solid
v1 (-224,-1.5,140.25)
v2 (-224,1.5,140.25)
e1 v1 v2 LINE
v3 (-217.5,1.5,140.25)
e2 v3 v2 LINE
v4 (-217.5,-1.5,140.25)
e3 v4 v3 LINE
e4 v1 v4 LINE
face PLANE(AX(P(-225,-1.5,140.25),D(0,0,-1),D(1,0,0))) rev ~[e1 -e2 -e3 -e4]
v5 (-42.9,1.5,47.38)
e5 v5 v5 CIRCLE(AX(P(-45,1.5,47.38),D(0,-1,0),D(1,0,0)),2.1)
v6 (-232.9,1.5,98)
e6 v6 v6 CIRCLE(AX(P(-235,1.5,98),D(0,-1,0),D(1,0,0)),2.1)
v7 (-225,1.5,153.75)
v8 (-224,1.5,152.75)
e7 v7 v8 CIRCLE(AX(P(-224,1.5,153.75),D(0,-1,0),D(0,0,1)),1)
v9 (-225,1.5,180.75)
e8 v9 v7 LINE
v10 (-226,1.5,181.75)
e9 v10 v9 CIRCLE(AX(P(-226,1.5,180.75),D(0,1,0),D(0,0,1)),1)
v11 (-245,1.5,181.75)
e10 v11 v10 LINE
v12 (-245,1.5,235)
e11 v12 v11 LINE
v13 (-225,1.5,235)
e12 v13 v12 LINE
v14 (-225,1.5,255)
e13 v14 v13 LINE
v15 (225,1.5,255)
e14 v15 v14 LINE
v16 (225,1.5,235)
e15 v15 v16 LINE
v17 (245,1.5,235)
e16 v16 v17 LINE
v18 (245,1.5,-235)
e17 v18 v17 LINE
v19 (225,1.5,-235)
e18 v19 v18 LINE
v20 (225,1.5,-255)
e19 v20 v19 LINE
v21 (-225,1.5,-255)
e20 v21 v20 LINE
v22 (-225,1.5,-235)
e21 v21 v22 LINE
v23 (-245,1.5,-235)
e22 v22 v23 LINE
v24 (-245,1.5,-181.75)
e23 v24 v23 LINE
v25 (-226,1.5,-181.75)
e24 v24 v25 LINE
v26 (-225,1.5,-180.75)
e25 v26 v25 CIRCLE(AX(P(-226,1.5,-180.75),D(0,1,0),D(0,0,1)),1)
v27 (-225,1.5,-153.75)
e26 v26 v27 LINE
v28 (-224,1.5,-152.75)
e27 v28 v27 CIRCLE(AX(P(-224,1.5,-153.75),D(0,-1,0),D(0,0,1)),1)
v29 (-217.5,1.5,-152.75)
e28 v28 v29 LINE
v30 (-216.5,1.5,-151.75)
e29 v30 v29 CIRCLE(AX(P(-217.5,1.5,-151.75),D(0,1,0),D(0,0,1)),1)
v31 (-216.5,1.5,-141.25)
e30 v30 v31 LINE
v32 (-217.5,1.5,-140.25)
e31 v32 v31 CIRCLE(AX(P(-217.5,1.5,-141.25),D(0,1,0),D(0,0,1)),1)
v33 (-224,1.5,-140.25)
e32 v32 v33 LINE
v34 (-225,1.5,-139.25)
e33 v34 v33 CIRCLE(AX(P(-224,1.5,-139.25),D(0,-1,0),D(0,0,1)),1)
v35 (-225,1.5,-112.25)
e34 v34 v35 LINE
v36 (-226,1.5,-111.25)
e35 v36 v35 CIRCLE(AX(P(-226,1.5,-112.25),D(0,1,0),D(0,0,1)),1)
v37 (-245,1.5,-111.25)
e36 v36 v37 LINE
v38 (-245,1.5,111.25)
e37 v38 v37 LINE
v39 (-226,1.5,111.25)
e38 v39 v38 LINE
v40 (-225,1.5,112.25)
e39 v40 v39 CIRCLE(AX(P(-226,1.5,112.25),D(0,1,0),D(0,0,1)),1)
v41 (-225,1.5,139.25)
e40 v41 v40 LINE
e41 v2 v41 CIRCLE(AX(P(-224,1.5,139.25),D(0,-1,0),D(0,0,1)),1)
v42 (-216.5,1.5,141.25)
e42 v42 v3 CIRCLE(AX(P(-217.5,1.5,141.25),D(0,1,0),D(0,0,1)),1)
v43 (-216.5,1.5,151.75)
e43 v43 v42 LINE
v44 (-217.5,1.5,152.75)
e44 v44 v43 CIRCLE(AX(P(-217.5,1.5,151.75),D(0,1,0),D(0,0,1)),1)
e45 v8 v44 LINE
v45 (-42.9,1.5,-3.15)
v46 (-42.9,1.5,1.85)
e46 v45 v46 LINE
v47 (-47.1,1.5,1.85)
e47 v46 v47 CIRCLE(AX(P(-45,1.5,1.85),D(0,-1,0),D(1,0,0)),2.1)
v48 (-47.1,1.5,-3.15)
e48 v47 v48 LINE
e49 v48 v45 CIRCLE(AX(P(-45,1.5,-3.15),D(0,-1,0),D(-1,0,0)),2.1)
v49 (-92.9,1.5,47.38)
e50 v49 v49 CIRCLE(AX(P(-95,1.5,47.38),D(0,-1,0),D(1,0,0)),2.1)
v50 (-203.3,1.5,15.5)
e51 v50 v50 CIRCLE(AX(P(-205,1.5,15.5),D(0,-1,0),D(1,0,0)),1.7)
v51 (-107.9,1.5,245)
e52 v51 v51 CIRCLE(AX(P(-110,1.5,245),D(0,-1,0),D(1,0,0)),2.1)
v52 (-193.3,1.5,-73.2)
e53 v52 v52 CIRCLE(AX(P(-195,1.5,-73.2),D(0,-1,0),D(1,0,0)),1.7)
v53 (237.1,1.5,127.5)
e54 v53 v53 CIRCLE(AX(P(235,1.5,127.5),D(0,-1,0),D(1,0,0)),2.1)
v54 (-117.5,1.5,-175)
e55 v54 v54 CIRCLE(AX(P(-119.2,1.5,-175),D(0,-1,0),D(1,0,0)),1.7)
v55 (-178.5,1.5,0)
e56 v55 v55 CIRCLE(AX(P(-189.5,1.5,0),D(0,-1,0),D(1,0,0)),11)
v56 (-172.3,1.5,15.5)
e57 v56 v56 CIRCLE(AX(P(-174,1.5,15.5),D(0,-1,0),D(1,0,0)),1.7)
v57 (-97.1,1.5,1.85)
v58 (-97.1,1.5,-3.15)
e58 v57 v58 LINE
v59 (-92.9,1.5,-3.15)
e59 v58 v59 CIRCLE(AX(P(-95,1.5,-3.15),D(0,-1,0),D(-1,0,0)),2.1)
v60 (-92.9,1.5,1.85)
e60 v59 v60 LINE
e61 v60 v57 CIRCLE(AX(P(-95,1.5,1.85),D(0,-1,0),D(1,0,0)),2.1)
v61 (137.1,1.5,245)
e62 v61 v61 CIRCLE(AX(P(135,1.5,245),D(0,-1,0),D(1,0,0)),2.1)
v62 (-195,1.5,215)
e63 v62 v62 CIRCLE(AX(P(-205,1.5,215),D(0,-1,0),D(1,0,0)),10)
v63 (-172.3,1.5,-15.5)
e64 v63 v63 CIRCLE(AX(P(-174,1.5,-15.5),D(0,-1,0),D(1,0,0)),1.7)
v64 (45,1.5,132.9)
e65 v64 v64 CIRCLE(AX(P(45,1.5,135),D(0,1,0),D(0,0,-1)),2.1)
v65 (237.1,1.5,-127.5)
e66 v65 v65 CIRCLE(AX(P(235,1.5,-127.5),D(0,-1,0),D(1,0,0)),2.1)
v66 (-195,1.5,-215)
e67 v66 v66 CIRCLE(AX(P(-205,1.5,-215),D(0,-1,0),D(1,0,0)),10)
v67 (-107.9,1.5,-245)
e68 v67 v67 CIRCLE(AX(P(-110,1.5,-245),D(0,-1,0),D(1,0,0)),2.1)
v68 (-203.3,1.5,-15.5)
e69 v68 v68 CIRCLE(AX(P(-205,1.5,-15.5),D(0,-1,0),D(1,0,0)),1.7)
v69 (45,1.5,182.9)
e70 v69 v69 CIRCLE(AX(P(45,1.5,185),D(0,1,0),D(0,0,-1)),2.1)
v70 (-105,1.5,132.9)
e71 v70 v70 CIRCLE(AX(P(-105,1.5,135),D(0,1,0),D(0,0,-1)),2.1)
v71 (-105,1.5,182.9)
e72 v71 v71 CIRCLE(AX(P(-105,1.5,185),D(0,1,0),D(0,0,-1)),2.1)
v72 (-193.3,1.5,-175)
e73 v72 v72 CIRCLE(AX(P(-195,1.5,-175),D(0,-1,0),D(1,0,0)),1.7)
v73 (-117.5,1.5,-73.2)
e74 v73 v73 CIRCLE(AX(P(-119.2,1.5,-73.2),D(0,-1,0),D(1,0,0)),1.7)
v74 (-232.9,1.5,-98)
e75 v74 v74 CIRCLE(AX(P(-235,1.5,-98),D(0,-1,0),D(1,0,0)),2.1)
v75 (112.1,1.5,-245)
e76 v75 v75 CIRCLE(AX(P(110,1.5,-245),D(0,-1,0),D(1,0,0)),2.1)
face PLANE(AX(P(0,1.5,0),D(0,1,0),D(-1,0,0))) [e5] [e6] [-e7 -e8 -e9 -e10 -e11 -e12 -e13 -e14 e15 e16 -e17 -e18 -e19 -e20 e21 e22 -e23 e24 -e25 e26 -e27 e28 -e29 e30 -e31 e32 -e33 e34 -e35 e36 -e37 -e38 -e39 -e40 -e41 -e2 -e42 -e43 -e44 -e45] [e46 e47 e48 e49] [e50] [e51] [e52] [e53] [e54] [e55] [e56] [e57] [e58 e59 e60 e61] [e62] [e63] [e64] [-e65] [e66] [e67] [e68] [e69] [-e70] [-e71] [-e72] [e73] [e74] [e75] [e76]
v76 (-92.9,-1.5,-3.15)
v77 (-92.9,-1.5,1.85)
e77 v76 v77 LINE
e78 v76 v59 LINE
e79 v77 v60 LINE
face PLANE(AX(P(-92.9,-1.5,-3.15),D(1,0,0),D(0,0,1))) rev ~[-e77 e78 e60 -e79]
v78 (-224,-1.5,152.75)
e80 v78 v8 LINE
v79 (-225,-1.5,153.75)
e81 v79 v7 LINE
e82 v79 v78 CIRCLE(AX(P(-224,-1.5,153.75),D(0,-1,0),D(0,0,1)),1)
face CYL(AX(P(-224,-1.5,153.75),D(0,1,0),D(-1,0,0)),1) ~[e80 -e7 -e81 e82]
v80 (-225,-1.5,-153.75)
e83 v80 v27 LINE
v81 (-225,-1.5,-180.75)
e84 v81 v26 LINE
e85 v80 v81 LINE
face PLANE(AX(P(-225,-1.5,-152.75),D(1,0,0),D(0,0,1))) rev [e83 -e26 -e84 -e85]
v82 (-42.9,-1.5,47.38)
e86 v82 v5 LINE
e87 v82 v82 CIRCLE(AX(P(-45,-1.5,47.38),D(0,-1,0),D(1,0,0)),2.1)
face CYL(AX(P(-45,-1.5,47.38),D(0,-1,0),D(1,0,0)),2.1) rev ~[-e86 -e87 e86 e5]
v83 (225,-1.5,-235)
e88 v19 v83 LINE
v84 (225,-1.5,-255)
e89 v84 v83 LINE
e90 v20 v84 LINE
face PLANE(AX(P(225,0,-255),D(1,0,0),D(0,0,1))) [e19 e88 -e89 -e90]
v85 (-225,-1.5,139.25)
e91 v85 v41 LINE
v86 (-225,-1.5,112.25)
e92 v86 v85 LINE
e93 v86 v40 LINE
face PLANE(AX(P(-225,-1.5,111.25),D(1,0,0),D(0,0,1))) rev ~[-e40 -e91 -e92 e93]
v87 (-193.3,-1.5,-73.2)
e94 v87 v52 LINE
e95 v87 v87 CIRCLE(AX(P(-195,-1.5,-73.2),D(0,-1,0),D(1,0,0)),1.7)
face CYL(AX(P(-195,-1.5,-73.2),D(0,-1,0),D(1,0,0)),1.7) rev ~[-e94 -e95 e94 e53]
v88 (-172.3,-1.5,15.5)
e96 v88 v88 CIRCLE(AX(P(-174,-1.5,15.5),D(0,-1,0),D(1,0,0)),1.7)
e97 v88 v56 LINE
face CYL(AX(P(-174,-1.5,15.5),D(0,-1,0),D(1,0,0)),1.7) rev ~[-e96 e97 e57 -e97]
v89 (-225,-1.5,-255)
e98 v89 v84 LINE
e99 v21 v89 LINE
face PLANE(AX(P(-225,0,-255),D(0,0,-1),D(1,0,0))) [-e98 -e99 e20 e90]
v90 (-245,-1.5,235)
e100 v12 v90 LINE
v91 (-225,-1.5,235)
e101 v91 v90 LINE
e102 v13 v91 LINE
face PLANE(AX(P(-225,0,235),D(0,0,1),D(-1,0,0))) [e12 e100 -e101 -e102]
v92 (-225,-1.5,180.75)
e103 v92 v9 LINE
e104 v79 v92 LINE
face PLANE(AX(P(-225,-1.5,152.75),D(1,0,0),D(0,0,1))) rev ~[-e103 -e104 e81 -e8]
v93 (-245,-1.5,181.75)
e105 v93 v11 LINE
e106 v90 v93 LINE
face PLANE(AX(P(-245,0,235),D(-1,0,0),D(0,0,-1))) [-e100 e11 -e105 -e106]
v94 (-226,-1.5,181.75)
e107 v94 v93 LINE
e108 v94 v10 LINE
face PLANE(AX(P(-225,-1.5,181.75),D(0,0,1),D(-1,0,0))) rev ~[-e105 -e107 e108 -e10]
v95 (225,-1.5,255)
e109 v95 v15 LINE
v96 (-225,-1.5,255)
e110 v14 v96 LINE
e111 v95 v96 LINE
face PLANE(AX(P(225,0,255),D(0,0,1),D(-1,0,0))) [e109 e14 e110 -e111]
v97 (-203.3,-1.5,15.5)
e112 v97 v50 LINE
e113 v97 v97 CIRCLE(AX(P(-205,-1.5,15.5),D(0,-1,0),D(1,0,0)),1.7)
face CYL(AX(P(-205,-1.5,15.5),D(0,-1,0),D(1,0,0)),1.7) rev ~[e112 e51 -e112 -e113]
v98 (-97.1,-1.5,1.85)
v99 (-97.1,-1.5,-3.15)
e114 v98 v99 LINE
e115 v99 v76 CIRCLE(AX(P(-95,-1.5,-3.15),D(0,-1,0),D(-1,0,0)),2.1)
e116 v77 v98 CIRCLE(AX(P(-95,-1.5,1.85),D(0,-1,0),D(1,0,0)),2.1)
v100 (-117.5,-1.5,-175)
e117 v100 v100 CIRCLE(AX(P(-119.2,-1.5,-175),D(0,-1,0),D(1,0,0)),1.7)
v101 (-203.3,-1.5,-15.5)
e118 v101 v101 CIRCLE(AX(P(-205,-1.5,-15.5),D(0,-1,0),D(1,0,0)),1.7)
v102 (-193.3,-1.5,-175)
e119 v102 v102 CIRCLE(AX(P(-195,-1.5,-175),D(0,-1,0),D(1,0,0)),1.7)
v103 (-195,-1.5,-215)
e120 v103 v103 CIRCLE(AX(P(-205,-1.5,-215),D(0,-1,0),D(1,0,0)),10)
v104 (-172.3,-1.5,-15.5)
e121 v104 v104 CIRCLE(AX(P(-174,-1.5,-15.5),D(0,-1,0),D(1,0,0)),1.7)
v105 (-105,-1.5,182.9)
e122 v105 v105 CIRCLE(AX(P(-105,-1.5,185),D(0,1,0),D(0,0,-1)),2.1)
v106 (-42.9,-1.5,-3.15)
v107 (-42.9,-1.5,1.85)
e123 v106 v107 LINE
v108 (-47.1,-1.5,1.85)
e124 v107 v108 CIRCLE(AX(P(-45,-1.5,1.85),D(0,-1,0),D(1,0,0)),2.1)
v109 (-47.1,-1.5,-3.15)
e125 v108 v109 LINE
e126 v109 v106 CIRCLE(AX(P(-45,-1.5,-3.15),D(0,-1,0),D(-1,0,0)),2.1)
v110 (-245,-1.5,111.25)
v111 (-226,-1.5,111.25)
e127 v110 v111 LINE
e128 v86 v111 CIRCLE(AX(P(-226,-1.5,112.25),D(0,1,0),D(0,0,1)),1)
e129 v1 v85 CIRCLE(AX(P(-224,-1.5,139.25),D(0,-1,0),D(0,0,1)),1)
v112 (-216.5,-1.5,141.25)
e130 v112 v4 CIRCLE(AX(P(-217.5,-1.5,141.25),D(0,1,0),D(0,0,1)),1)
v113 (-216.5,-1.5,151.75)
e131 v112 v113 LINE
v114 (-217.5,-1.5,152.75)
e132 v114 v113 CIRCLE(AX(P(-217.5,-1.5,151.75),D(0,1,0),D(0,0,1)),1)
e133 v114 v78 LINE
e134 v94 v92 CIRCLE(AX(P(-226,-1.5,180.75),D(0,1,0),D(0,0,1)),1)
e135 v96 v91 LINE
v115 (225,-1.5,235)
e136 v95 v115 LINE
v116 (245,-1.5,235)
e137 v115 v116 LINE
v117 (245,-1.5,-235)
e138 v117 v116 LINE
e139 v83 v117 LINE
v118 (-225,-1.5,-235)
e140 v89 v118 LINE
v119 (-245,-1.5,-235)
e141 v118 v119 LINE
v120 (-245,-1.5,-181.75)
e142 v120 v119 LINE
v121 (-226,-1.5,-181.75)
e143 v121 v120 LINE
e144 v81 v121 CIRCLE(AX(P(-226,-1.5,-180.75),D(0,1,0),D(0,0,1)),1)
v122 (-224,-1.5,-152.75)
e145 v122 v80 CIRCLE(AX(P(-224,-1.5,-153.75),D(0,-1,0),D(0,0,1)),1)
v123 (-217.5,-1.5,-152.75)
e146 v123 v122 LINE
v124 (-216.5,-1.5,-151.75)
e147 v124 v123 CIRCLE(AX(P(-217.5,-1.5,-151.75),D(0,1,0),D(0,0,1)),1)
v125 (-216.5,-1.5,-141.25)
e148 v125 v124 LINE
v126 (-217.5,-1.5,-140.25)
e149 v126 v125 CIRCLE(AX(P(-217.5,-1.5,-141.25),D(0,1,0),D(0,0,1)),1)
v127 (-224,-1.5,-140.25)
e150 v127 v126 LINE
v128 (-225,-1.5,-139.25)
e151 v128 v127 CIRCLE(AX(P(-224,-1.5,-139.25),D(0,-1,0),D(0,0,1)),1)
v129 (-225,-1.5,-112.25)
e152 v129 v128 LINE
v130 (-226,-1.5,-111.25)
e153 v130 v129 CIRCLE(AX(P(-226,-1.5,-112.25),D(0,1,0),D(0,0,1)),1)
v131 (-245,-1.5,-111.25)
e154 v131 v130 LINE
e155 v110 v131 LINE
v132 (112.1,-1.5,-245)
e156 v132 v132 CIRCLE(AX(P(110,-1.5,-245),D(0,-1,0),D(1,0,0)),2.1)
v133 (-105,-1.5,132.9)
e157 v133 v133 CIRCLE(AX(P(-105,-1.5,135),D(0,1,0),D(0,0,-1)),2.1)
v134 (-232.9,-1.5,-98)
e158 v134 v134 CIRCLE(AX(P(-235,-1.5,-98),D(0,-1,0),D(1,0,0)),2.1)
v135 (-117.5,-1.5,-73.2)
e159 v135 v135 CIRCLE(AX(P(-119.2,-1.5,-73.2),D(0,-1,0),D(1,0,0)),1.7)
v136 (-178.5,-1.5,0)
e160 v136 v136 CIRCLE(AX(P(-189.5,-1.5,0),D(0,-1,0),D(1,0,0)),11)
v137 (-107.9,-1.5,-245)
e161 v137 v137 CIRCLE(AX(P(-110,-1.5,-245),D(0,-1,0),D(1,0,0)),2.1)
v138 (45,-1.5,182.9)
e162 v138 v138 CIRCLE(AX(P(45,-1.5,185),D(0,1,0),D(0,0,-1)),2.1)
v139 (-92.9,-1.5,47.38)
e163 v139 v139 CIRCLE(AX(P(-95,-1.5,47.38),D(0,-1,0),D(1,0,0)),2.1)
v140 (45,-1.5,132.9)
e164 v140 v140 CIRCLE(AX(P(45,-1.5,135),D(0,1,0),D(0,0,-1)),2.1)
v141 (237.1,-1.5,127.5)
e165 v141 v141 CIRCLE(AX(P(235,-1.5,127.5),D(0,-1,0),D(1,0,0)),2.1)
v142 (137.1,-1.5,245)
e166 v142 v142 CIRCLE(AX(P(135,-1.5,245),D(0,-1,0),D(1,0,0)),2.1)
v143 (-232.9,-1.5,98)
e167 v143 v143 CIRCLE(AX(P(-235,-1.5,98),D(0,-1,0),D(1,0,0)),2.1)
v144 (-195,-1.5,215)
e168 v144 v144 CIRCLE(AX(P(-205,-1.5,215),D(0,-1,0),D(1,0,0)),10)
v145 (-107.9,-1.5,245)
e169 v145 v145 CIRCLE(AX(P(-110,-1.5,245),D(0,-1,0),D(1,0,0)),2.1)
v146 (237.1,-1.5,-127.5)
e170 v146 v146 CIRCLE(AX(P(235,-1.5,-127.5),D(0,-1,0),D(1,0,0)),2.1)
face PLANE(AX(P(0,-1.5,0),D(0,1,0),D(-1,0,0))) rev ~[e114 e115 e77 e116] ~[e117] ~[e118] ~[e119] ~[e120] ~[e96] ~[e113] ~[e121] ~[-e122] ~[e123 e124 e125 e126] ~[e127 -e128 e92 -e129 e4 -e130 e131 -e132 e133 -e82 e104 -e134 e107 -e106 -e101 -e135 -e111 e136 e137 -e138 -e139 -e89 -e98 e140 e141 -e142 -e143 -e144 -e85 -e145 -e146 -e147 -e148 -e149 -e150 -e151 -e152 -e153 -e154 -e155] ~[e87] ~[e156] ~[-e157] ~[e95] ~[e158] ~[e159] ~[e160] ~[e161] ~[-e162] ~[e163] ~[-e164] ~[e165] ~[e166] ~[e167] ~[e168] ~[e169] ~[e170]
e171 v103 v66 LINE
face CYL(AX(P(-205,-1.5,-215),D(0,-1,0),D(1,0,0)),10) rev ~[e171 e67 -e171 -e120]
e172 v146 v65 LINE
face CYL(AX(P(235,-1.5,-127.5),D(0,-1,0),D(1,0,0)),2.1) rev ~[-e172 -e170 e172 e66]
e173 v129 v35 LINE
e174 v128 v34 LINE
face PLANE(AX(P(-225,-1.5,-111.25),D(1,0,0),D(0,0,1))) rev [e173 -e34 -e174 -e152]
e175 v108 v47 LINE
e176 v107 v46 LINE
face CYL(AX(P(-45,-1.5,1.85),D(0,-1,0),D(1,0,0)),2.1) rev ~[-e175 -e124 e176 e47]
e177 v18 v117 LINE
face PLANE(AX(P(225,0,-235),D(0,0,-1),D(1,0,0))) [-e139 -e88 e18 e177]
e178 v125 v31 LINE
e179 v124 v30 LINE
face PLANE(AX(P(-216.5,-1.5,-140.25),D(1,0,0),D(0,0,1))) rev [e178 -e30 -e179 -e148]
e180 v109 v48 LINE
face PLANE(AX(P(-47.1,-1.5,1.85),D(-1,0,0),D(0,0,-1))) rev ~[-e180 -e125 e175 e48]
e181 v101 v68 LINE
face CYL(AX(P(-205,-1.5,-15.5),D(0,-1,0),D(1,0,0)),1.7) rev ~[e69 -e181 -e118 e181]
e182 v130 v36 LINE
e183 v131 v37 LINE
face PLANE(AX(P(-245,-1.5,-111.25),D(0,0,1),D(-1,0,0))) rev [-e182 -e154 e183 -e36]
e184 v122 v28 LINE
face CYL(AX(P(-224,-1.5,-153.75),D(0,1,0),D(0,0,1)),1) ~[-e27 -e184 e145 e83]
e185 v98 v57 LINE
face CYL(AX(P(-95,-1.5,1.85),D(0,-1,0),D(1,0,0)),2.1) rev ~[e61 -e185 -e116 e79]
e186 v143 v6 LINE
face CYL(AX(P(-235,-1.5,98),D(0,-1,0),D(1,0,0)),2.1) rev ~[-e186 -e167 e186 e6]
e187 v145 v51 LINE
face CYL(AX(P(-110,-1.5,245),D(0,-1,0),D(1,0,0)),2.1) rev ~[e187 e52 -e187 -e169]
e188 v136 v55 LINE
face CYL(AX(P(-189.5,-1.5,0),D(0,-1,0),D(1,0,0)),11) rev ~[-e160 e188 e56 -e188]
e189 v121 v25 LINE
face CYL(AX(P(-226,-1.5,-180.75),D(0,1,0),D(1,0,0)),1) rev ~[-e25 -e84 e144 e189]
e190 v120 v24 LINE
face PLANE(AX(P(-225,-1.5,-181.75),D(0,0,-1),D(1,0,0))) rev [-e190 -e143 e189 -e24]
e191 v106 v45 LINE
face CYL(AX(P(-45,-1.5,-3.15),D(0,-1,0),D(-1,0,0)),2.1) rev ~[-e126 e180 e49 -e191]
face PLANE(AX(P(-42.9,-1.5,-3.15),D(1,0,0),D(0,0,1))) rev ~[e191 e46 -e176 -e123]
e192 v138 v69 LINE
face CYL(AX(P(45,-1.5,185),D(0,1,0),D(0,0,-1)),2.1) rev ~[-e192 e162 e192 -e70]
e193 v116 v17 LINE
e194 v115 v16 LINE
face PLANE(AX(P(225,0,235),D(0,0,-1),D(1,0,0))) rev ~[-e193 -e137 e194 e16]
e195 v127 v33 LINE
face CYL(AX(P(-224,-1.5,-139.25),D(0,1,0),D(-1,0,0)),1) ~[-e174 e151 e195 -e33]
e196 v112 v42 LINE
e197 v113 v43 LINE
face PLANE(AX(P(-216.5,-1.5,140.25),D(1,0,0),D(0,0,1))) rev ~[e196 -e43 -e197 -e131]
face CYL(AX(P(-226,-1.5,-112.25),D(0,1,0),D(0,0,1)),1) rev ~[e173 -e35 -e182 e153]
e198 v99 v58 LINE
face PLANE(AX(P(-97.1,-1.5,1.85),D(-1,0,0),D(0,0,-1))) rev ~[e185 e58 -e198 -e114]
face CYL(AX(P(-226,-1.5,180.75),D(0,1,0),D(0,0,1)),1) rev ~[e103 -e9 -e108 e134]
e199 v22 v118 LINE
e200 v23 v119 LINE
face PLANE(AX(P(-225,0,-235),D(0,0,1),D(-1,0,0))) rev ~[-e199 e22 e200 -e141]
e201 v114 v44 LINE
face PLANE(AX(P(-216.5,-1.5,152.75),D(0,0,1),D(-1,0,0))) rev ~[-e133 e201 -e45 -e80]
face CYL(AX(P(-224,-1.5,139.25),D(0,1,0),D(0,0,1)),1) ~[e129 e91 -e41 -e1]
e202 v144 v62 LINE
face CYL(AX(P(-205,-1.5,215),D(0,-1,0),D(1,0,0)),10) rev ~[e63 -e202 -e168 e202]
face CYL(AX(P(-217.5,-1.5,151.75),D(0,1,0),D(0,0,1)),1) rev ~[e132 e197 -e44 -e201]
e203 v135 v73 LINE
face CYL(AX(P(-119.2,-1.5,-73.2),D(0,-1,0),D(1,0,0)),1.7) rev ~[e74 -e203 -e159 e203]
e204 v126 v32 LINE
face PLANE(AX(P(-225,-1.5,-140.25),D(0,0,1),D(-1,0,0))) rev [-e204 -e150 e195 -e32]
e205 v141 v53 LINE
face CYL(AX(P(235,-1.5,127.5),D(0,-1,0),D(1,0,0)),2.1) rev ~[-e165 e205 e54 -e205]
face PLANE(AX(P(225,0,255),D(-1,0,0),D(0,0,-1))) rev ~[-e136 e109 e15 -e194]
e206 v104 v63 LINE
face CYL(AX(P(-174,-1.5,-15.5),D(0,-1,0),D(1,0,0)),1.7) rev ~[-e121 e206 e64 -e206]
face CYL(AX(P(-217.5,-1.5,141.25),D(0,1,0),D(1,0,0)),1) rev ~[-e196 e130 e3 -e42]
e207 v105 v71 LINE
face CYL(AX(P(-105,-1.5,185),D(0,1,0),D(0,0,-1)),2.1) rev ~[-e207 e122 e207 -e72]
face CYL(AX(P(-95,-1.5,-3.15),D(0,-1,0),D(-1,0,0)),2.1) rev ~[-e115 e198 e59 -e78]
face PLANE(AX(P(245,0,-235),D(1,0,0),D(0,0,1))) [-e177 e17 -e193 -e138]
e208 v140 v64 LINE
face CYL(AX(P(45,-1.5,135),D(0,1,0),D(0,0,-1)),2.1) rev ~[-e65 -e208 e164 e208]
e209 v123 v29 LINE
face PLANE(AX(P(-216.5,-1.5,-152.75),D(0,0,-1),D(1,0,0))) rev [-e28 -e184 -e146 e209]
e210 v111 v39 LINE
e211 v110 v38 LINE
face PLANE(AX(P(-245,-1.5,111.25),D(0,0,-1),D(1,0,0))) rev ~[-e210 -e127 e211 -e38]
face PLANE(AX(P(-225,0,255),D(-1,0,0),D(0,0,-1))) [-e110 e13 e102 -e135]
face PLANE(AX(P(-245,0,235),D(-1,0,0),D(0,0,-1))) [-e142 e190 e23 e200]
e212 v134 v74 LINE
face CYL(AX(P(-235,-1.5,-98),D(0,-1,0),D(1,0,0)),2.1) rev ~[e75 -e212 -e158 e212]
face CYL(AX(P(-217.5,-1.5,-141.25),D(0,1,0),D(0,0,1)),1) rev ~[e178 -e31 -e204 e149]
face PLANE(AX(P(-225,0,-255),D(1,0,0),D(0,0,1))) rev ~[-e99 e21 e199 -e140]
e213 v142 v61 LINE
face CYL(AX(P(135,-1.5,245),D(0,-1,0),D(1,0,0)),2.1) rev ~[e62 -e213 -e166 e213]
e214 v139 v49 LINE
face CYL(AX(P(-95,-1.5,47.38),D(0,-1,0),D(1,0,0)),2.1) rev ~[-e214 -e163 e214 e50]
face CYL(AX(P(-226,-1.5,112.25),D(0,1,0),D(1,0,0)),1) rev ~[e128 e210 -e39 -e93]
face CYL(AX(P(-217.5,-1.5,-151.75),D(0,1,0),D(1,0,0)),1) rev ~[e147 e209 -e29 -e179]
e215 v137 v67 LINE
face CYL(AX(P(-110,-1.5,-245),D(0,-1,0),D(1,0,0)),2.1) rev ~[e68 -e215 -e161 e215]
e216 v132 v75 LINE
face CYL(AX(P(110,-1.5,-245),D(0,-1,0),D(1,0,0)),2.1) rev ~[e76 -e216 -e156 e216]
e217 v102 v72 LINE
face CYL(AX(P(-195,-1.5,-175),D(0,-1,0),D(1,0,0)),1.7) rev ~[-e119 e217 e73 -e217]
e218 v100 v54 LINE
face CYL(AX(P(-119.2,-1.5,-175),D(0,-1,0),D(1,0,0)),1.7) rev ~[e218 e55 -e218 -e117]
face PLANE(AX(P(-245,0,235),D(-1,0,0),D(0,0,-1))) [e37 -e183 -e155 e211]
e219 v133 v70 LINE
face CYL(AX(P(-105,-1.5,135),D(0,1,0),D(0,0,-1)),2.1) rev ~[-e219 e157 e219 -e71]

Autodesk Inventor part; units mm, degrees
ref_plane "YZ Plane" through (0, 0, 0) normal (1, 0, 0) x (0, 1, 0)
ref_plane "XZ Plane" through (0, 0, 0) normal (0, 1, 0) x (-1, 0, 0)
ref_plane "XY Plane" through (0, 0, 0) normal (0, 0, 1) x (1, 0, 0)
sketch "Sketch1" plane through (0, 0, 0) normal (0, 1, 0) x (-1, 0, 0)
  line L0 (-245, 255) -> (245, 255)
  line L1 (245, 255) -> (245, -255)
  line L2 (245, -255) -> (-245, -255)
  line L3 (-245, -255) -> (-245, 255)
  line L4 (-245, 255) -> (245, -255) construction
  line L5 (245, 255) -> (-245, -255) construction
  line L6 (225, 255) -> (225, 235)
  line L7 (225, 235) -> (245, 235)
  line L8 (225, -255) -> (225, -235)
  line L9 (225, -235) -> (245, -235)
  line L10 (-225, 255) -> (-225, 235)
  line L11 (-225, 235) -> (-245, 235)
  line L12 (-225, -255) -> (-225, -235)
  line L13 (-225, -235) -> (-245, -235)
  point P0 (0, 0)
  dimension "d0" = 510
  dimension "d1" = 490
  dimension "d2" = 20
extrude "Extrusion2" add sketch "Sketch1" along normal mid plane 3 contours L0 L6 L7 L1 L9 L8 L2 L12 L13 L3 L11 L10
sketch "Sketch2" plane through (0, -1.5, 0) normal (0, -1, 0) x (1, 0, 0)
  line L0 (235, -245) -> (-235, -245) construction
  line L1 (-235, -245) -> (-235, 245) construction
  line L2 (-235, 245) -> (235, 245) construction
  line L3 (235, 245) -> (235, -245) construction
  line L4 (235, -245) -> (-235, 245) construction
  line L5 (-235, -245) -> (235, 245) construction
  line L6 (-245, 235) -> (-245, -235) construction
  line L7 (225, 255) -> (-225, 255) construction
  circle A0 centre (-235, 98) radius 2.1
  circle A1 centre (-235, -98) radius 2.1
  circle A2 centre (-110, -245) radius 2.1
  circle A3 centre (110, -245) radius 2.1
  circle A4 centre (235, -127.5) radius 2.1
  circle A5 centre (235, 127.5) radius 2.1
  circle A6 centre (135, 245) radius 2.1
  circle A7 centre (-110, 245) radius 2.1
  line L8 (-245, 0) -> (245, 0) construction
  line L9 (-225, 255) -> (225, 255) construction
  line L10 (0, 255) -> (0, -257) construction
  point P0 (0, 0)
  point P1 (0, 0)
  point P2 (0, 0)
  dimension "d7" = 10
  dimension "d8" = 10
  dimension "d9" = 117.5
  dimension "d10" = 100
  dimension "d11" = 4.2
  dimension "d27" = 147
extrude "Extrusion3" cut sketch "Sketch2" against normal through all
sketch "Sketch3" plane through (0, -1.5, 0) normal (0, -1, 0) x (1, 0, 0)
  line L0 (-205, -15.5) -> (-174, -15.5) construction
  line L1 (-174, -15.5) -> (-174, 15.5) construction
  line L2 (-174, 15.5) -> (-205, 15.5) construction
  line L3 (-205, 15.5) -> (-205, -15.5) construction
  line L4 (-205, -15.5) -> (-174, 15.5) construction
  line L5 (-174, -15.5) -> (-205, 15.5) construction
  line L6 (-245, 235) -> (-245, -235) projected
  line L7 (0, 0) -> (-245, 0) construction
  circle A0 centre (-189.5, 0) radius 11
  circle A1 centre (-205, 15.5) radius 1.7
  circle A2 centre (-174, 15.5) radius 1.7
  circle A3 centre (-174, -15.5) radius 1.7
  circle A4 centre (-205, -15.5) radius 1.7
  point P0 (-189.5, 0)
  dimension "d14" = 40
  dimension "d15" = 22
  dimension "d16" = 31
  dimension "d17" = 3.4
extrude "Extrusion4" cut sketch "Sketch3" against normal through all
sketch "Sketch4" plane through (0, -1.5, 0) normal (0, -1, 0) x (1, 0, 0)
  line L0 (-245, 111.25) -> (-225, 111.25)
  line L1 (-225, 111.25) -> (-225, 181.75)
  line L2 (-225, 181.75) -> (-245, 181.75)
  line L3 (-245, 181.75) -> (-245, 111.25)
  line L4 (-225, 235) -> (-245, 235) projected
  line L5 (-245, 235) -> (-245, -235) projected
  line L6 (-245, 146.5) -> (-216, 146.5) construction
  line L7 (-225, 140.25) -> (-216.5, 140.25)
  line L8 (-216.5, 140.25) -> (-216.5, 152.75)
  line L9 (-216.5, 152.75) -> (-225, 152.75)
  line L10 (-225, 152.75) -> (-225, 140.25)
  point P0 (0, 0)
  dimension "d21" = 70.5
  dimension "d22" = 12.5
  dimension "d23" = 8.5
  dimension "d28" = 20
  dimension "d29" = 88.5
extrude "Extrusion5" cut sketch "Sketch4" against normal through all
mirror "Mirror1" about plane through (0, 0, 0) normal (0, 0, 1) of "Extrusion5"
fillet "Fillet1" radius 1 12 edges at (-225, 0, -111.25) (-216.5, 0, -140.25) (-216.5, 0, -152.75) (-225, 0, -181.75) (-225, 0, -152.75) (-225, 0, -140.25) (-225, 0, 152.75) (-225, 0, 140.25) (-216.5, 0, 152.75) (-225, 0, 181.75) (-216.5, 0, 140.25) (-225, 0, 111.25)
sketch "Sketch6" plane through (0, -1.5, 0) normal (0, -1, 0) x (1, 0, 0)
  line L0 (-105, 185) -> (45, 185) construction
  line L1 (45, 185) -> (45, 135) construction
  line L2 (45, 135) -> (-105, 135) construction
  line L3 (-105, 135) -> (-105, 185) construction
  circle A0 centre (45, 185) radius 2.1
  circle A1 centre (45, 135) radius 2.1
  circle A2 centre (-105, 135) radius 2.1
  circle A3 centre (-105, 185) radius 2.1
  line L4 (225, 255) -> (-225, 255) projected
  line L5 (-245, 235) -> (-245, 181.75) projected
  point P0 (0, 0)
  dimension "d30" = 50
  dimension "d31" = 150
  dimension "d32" = 4.2
  dimension "d33" = 70
  dimension "d34" = 140
hole "Hole1" at (45, -1.5, 185) at (45, -1.5, 135) at (-105, -1.5, 135) at (-105, -1.5, 185) direction (0, 1, 0) diameter 4.2 end through all
sketch "Sketch7" plane through (0, -1.5, 0) normal (0, -1, 0) x (1, 0, 0)
  circle A0 centre (-205, 215) radius 10
  circle A1 centre (-205, -215) radius 10
  line L0 (-205, 215) -> (-205, -215) construction
  line L1 (0, 0) -> (-205, 0) construction
  line L2 (225, 255) -> (-225, 255) construction
  line L3 (-225, -112.25) -> (-225, -139.25) construction
  dimension "d50" = 20
  dimension "d51" = 40
  dimension "d52" = 20
extrude "Cut1" cut sketch "Sketch7" against normal blind 3
sketch "Sketch8" plane through (0, -1.5, 0) normal (0, -1, 0) x (1, 0, 0)
  line L0 (-20, 55) -> (-20, -7) construction
  line L1 (-20, -7) -> (-70, -7) construction
  line L2 (-70, -7) -> (-70, 55) construction
  line L3 (-70, 55) -> (-20, 55) construction
  line L4 (-70, 55) -> (-70, -7) construction
  line L5 (-70, -7) -> (-120, -7) construction
  line L6 (-120, -7) -> (-120, 55) construction
  line L7 (-120, 55) -> (-70, 55) construction
  line L8 (-45, 55) -> (-45, -2.575) construction
  line L9 (-95, 55) -> (-95, -7) construction
  line L10 (225, 255) -> (-225, 255) construction
  circle A0 centre (-45, 47.38) radius 2.1
  line L11 (-45, 1.85) -> (-45, -7) construction
  line L12 (-47.1, 1.85) -> (-47.1, -3.15)
  line L13 (-42.9, -3.15) -> (-42.9, 1.85)
  arc A1 (-42.9, 1.85) -> (-47.1, 1.85) centre (-45, 1.85) ccw
  arc A2 (-47.1, -3.15) -> (-42.9, -3.15) centre (-45, -3.15) ccw
  line L14 (-20, 24) -> (-120, 24) construction
  circle A3 centre (-95, 47.38) radius 2.1
  line L15 (-95, 1.85) -> (-95, -3.15) construction
  line L16 (-97.1, 1.85) -> (-97.1, -3.15)
  line L17 (-92.9, -3.15) -> (-92.9, 1.85)
  arc A4 (-92.9, 1.85) -> (-97.1, 1.85) centre (-95, 1.85) ccw
  arc A5 (-97.1, -3.15) -> (-92.9, -3.15) centre (-95, -3.15) ccw
  line L18 (-245, 111.25) -> (-245, -111.25) projected
  point P0 (0, 0)
  point P1 (-95, -0.65)
  point P2 (-70, 24)
  dimension "d56" = 50
  dimension "d57" = 62
  dimension "d58" = 45.53
  dimension "d59" = 7.62
  dimension "d60" = 5
  dimension "d61" = 4.2
  dimension "d66" = 200
  dimension "d67" = 175
extrude "Cut2" cut sketch "Sketch8" against normal blind 3
sketch "Sketch9" plane through (0, -1.5, 0) normal (0, -1, 0) x (1, 0, 0)
  line L0 (-119.2, -73.2) -> (-195, -73.2) construction
  line L1 (-195, -73.2) -> (-195, -175) construction
  line L2 (-195, -175) -> (-119.2, -175) construction
  line L3 (-119.2, -175) -> (-119.2, -73.2) construction
  line L4 (245, -235) -> (245, 235) construction
  circle A0 centre (-119.2, -73.2) radius 1.7
  circle A1 centre (-119.2, -175) radius 1.7
  circle A2 centre (-195, -175) radius 1.7
  circle A3 centre (-195, -73.2) radius 1.7
  line L5 (-225, -255) -> (225, -255) projected
  line L6 (-245, 111.25) -> (-245, -111.25) projected
  point P0 (0, 0)
  dimension "d68" = 101.8
  dimension "d69" = 75.8
  dimension "d71" = 3.4
  dimension "d74" = 80
  dimension "d75" = 50
extrude "Cut3" cut sketch "Sketch9" against normal blind 3
equation "\"d40\" = Thickness"
equation "\"d54\" = Thickness"
equation "\"d63\" = Thickness"
equation "\"d72\" = Thickness"
equation "\"CornerReliefSize\" = 4 * Thickness"
equation "\"TransitionRadius\" = BendRadius"
equation "\"JacobiRadiusSize\" = BendRadius"
equation "\"d53\" = Thickness"
equation "\"Thickness\" = 3"
equation "\"BendRadius\" = 0.8"
properties part number "Internal Base Cladding" material "Aluminium 1050"
